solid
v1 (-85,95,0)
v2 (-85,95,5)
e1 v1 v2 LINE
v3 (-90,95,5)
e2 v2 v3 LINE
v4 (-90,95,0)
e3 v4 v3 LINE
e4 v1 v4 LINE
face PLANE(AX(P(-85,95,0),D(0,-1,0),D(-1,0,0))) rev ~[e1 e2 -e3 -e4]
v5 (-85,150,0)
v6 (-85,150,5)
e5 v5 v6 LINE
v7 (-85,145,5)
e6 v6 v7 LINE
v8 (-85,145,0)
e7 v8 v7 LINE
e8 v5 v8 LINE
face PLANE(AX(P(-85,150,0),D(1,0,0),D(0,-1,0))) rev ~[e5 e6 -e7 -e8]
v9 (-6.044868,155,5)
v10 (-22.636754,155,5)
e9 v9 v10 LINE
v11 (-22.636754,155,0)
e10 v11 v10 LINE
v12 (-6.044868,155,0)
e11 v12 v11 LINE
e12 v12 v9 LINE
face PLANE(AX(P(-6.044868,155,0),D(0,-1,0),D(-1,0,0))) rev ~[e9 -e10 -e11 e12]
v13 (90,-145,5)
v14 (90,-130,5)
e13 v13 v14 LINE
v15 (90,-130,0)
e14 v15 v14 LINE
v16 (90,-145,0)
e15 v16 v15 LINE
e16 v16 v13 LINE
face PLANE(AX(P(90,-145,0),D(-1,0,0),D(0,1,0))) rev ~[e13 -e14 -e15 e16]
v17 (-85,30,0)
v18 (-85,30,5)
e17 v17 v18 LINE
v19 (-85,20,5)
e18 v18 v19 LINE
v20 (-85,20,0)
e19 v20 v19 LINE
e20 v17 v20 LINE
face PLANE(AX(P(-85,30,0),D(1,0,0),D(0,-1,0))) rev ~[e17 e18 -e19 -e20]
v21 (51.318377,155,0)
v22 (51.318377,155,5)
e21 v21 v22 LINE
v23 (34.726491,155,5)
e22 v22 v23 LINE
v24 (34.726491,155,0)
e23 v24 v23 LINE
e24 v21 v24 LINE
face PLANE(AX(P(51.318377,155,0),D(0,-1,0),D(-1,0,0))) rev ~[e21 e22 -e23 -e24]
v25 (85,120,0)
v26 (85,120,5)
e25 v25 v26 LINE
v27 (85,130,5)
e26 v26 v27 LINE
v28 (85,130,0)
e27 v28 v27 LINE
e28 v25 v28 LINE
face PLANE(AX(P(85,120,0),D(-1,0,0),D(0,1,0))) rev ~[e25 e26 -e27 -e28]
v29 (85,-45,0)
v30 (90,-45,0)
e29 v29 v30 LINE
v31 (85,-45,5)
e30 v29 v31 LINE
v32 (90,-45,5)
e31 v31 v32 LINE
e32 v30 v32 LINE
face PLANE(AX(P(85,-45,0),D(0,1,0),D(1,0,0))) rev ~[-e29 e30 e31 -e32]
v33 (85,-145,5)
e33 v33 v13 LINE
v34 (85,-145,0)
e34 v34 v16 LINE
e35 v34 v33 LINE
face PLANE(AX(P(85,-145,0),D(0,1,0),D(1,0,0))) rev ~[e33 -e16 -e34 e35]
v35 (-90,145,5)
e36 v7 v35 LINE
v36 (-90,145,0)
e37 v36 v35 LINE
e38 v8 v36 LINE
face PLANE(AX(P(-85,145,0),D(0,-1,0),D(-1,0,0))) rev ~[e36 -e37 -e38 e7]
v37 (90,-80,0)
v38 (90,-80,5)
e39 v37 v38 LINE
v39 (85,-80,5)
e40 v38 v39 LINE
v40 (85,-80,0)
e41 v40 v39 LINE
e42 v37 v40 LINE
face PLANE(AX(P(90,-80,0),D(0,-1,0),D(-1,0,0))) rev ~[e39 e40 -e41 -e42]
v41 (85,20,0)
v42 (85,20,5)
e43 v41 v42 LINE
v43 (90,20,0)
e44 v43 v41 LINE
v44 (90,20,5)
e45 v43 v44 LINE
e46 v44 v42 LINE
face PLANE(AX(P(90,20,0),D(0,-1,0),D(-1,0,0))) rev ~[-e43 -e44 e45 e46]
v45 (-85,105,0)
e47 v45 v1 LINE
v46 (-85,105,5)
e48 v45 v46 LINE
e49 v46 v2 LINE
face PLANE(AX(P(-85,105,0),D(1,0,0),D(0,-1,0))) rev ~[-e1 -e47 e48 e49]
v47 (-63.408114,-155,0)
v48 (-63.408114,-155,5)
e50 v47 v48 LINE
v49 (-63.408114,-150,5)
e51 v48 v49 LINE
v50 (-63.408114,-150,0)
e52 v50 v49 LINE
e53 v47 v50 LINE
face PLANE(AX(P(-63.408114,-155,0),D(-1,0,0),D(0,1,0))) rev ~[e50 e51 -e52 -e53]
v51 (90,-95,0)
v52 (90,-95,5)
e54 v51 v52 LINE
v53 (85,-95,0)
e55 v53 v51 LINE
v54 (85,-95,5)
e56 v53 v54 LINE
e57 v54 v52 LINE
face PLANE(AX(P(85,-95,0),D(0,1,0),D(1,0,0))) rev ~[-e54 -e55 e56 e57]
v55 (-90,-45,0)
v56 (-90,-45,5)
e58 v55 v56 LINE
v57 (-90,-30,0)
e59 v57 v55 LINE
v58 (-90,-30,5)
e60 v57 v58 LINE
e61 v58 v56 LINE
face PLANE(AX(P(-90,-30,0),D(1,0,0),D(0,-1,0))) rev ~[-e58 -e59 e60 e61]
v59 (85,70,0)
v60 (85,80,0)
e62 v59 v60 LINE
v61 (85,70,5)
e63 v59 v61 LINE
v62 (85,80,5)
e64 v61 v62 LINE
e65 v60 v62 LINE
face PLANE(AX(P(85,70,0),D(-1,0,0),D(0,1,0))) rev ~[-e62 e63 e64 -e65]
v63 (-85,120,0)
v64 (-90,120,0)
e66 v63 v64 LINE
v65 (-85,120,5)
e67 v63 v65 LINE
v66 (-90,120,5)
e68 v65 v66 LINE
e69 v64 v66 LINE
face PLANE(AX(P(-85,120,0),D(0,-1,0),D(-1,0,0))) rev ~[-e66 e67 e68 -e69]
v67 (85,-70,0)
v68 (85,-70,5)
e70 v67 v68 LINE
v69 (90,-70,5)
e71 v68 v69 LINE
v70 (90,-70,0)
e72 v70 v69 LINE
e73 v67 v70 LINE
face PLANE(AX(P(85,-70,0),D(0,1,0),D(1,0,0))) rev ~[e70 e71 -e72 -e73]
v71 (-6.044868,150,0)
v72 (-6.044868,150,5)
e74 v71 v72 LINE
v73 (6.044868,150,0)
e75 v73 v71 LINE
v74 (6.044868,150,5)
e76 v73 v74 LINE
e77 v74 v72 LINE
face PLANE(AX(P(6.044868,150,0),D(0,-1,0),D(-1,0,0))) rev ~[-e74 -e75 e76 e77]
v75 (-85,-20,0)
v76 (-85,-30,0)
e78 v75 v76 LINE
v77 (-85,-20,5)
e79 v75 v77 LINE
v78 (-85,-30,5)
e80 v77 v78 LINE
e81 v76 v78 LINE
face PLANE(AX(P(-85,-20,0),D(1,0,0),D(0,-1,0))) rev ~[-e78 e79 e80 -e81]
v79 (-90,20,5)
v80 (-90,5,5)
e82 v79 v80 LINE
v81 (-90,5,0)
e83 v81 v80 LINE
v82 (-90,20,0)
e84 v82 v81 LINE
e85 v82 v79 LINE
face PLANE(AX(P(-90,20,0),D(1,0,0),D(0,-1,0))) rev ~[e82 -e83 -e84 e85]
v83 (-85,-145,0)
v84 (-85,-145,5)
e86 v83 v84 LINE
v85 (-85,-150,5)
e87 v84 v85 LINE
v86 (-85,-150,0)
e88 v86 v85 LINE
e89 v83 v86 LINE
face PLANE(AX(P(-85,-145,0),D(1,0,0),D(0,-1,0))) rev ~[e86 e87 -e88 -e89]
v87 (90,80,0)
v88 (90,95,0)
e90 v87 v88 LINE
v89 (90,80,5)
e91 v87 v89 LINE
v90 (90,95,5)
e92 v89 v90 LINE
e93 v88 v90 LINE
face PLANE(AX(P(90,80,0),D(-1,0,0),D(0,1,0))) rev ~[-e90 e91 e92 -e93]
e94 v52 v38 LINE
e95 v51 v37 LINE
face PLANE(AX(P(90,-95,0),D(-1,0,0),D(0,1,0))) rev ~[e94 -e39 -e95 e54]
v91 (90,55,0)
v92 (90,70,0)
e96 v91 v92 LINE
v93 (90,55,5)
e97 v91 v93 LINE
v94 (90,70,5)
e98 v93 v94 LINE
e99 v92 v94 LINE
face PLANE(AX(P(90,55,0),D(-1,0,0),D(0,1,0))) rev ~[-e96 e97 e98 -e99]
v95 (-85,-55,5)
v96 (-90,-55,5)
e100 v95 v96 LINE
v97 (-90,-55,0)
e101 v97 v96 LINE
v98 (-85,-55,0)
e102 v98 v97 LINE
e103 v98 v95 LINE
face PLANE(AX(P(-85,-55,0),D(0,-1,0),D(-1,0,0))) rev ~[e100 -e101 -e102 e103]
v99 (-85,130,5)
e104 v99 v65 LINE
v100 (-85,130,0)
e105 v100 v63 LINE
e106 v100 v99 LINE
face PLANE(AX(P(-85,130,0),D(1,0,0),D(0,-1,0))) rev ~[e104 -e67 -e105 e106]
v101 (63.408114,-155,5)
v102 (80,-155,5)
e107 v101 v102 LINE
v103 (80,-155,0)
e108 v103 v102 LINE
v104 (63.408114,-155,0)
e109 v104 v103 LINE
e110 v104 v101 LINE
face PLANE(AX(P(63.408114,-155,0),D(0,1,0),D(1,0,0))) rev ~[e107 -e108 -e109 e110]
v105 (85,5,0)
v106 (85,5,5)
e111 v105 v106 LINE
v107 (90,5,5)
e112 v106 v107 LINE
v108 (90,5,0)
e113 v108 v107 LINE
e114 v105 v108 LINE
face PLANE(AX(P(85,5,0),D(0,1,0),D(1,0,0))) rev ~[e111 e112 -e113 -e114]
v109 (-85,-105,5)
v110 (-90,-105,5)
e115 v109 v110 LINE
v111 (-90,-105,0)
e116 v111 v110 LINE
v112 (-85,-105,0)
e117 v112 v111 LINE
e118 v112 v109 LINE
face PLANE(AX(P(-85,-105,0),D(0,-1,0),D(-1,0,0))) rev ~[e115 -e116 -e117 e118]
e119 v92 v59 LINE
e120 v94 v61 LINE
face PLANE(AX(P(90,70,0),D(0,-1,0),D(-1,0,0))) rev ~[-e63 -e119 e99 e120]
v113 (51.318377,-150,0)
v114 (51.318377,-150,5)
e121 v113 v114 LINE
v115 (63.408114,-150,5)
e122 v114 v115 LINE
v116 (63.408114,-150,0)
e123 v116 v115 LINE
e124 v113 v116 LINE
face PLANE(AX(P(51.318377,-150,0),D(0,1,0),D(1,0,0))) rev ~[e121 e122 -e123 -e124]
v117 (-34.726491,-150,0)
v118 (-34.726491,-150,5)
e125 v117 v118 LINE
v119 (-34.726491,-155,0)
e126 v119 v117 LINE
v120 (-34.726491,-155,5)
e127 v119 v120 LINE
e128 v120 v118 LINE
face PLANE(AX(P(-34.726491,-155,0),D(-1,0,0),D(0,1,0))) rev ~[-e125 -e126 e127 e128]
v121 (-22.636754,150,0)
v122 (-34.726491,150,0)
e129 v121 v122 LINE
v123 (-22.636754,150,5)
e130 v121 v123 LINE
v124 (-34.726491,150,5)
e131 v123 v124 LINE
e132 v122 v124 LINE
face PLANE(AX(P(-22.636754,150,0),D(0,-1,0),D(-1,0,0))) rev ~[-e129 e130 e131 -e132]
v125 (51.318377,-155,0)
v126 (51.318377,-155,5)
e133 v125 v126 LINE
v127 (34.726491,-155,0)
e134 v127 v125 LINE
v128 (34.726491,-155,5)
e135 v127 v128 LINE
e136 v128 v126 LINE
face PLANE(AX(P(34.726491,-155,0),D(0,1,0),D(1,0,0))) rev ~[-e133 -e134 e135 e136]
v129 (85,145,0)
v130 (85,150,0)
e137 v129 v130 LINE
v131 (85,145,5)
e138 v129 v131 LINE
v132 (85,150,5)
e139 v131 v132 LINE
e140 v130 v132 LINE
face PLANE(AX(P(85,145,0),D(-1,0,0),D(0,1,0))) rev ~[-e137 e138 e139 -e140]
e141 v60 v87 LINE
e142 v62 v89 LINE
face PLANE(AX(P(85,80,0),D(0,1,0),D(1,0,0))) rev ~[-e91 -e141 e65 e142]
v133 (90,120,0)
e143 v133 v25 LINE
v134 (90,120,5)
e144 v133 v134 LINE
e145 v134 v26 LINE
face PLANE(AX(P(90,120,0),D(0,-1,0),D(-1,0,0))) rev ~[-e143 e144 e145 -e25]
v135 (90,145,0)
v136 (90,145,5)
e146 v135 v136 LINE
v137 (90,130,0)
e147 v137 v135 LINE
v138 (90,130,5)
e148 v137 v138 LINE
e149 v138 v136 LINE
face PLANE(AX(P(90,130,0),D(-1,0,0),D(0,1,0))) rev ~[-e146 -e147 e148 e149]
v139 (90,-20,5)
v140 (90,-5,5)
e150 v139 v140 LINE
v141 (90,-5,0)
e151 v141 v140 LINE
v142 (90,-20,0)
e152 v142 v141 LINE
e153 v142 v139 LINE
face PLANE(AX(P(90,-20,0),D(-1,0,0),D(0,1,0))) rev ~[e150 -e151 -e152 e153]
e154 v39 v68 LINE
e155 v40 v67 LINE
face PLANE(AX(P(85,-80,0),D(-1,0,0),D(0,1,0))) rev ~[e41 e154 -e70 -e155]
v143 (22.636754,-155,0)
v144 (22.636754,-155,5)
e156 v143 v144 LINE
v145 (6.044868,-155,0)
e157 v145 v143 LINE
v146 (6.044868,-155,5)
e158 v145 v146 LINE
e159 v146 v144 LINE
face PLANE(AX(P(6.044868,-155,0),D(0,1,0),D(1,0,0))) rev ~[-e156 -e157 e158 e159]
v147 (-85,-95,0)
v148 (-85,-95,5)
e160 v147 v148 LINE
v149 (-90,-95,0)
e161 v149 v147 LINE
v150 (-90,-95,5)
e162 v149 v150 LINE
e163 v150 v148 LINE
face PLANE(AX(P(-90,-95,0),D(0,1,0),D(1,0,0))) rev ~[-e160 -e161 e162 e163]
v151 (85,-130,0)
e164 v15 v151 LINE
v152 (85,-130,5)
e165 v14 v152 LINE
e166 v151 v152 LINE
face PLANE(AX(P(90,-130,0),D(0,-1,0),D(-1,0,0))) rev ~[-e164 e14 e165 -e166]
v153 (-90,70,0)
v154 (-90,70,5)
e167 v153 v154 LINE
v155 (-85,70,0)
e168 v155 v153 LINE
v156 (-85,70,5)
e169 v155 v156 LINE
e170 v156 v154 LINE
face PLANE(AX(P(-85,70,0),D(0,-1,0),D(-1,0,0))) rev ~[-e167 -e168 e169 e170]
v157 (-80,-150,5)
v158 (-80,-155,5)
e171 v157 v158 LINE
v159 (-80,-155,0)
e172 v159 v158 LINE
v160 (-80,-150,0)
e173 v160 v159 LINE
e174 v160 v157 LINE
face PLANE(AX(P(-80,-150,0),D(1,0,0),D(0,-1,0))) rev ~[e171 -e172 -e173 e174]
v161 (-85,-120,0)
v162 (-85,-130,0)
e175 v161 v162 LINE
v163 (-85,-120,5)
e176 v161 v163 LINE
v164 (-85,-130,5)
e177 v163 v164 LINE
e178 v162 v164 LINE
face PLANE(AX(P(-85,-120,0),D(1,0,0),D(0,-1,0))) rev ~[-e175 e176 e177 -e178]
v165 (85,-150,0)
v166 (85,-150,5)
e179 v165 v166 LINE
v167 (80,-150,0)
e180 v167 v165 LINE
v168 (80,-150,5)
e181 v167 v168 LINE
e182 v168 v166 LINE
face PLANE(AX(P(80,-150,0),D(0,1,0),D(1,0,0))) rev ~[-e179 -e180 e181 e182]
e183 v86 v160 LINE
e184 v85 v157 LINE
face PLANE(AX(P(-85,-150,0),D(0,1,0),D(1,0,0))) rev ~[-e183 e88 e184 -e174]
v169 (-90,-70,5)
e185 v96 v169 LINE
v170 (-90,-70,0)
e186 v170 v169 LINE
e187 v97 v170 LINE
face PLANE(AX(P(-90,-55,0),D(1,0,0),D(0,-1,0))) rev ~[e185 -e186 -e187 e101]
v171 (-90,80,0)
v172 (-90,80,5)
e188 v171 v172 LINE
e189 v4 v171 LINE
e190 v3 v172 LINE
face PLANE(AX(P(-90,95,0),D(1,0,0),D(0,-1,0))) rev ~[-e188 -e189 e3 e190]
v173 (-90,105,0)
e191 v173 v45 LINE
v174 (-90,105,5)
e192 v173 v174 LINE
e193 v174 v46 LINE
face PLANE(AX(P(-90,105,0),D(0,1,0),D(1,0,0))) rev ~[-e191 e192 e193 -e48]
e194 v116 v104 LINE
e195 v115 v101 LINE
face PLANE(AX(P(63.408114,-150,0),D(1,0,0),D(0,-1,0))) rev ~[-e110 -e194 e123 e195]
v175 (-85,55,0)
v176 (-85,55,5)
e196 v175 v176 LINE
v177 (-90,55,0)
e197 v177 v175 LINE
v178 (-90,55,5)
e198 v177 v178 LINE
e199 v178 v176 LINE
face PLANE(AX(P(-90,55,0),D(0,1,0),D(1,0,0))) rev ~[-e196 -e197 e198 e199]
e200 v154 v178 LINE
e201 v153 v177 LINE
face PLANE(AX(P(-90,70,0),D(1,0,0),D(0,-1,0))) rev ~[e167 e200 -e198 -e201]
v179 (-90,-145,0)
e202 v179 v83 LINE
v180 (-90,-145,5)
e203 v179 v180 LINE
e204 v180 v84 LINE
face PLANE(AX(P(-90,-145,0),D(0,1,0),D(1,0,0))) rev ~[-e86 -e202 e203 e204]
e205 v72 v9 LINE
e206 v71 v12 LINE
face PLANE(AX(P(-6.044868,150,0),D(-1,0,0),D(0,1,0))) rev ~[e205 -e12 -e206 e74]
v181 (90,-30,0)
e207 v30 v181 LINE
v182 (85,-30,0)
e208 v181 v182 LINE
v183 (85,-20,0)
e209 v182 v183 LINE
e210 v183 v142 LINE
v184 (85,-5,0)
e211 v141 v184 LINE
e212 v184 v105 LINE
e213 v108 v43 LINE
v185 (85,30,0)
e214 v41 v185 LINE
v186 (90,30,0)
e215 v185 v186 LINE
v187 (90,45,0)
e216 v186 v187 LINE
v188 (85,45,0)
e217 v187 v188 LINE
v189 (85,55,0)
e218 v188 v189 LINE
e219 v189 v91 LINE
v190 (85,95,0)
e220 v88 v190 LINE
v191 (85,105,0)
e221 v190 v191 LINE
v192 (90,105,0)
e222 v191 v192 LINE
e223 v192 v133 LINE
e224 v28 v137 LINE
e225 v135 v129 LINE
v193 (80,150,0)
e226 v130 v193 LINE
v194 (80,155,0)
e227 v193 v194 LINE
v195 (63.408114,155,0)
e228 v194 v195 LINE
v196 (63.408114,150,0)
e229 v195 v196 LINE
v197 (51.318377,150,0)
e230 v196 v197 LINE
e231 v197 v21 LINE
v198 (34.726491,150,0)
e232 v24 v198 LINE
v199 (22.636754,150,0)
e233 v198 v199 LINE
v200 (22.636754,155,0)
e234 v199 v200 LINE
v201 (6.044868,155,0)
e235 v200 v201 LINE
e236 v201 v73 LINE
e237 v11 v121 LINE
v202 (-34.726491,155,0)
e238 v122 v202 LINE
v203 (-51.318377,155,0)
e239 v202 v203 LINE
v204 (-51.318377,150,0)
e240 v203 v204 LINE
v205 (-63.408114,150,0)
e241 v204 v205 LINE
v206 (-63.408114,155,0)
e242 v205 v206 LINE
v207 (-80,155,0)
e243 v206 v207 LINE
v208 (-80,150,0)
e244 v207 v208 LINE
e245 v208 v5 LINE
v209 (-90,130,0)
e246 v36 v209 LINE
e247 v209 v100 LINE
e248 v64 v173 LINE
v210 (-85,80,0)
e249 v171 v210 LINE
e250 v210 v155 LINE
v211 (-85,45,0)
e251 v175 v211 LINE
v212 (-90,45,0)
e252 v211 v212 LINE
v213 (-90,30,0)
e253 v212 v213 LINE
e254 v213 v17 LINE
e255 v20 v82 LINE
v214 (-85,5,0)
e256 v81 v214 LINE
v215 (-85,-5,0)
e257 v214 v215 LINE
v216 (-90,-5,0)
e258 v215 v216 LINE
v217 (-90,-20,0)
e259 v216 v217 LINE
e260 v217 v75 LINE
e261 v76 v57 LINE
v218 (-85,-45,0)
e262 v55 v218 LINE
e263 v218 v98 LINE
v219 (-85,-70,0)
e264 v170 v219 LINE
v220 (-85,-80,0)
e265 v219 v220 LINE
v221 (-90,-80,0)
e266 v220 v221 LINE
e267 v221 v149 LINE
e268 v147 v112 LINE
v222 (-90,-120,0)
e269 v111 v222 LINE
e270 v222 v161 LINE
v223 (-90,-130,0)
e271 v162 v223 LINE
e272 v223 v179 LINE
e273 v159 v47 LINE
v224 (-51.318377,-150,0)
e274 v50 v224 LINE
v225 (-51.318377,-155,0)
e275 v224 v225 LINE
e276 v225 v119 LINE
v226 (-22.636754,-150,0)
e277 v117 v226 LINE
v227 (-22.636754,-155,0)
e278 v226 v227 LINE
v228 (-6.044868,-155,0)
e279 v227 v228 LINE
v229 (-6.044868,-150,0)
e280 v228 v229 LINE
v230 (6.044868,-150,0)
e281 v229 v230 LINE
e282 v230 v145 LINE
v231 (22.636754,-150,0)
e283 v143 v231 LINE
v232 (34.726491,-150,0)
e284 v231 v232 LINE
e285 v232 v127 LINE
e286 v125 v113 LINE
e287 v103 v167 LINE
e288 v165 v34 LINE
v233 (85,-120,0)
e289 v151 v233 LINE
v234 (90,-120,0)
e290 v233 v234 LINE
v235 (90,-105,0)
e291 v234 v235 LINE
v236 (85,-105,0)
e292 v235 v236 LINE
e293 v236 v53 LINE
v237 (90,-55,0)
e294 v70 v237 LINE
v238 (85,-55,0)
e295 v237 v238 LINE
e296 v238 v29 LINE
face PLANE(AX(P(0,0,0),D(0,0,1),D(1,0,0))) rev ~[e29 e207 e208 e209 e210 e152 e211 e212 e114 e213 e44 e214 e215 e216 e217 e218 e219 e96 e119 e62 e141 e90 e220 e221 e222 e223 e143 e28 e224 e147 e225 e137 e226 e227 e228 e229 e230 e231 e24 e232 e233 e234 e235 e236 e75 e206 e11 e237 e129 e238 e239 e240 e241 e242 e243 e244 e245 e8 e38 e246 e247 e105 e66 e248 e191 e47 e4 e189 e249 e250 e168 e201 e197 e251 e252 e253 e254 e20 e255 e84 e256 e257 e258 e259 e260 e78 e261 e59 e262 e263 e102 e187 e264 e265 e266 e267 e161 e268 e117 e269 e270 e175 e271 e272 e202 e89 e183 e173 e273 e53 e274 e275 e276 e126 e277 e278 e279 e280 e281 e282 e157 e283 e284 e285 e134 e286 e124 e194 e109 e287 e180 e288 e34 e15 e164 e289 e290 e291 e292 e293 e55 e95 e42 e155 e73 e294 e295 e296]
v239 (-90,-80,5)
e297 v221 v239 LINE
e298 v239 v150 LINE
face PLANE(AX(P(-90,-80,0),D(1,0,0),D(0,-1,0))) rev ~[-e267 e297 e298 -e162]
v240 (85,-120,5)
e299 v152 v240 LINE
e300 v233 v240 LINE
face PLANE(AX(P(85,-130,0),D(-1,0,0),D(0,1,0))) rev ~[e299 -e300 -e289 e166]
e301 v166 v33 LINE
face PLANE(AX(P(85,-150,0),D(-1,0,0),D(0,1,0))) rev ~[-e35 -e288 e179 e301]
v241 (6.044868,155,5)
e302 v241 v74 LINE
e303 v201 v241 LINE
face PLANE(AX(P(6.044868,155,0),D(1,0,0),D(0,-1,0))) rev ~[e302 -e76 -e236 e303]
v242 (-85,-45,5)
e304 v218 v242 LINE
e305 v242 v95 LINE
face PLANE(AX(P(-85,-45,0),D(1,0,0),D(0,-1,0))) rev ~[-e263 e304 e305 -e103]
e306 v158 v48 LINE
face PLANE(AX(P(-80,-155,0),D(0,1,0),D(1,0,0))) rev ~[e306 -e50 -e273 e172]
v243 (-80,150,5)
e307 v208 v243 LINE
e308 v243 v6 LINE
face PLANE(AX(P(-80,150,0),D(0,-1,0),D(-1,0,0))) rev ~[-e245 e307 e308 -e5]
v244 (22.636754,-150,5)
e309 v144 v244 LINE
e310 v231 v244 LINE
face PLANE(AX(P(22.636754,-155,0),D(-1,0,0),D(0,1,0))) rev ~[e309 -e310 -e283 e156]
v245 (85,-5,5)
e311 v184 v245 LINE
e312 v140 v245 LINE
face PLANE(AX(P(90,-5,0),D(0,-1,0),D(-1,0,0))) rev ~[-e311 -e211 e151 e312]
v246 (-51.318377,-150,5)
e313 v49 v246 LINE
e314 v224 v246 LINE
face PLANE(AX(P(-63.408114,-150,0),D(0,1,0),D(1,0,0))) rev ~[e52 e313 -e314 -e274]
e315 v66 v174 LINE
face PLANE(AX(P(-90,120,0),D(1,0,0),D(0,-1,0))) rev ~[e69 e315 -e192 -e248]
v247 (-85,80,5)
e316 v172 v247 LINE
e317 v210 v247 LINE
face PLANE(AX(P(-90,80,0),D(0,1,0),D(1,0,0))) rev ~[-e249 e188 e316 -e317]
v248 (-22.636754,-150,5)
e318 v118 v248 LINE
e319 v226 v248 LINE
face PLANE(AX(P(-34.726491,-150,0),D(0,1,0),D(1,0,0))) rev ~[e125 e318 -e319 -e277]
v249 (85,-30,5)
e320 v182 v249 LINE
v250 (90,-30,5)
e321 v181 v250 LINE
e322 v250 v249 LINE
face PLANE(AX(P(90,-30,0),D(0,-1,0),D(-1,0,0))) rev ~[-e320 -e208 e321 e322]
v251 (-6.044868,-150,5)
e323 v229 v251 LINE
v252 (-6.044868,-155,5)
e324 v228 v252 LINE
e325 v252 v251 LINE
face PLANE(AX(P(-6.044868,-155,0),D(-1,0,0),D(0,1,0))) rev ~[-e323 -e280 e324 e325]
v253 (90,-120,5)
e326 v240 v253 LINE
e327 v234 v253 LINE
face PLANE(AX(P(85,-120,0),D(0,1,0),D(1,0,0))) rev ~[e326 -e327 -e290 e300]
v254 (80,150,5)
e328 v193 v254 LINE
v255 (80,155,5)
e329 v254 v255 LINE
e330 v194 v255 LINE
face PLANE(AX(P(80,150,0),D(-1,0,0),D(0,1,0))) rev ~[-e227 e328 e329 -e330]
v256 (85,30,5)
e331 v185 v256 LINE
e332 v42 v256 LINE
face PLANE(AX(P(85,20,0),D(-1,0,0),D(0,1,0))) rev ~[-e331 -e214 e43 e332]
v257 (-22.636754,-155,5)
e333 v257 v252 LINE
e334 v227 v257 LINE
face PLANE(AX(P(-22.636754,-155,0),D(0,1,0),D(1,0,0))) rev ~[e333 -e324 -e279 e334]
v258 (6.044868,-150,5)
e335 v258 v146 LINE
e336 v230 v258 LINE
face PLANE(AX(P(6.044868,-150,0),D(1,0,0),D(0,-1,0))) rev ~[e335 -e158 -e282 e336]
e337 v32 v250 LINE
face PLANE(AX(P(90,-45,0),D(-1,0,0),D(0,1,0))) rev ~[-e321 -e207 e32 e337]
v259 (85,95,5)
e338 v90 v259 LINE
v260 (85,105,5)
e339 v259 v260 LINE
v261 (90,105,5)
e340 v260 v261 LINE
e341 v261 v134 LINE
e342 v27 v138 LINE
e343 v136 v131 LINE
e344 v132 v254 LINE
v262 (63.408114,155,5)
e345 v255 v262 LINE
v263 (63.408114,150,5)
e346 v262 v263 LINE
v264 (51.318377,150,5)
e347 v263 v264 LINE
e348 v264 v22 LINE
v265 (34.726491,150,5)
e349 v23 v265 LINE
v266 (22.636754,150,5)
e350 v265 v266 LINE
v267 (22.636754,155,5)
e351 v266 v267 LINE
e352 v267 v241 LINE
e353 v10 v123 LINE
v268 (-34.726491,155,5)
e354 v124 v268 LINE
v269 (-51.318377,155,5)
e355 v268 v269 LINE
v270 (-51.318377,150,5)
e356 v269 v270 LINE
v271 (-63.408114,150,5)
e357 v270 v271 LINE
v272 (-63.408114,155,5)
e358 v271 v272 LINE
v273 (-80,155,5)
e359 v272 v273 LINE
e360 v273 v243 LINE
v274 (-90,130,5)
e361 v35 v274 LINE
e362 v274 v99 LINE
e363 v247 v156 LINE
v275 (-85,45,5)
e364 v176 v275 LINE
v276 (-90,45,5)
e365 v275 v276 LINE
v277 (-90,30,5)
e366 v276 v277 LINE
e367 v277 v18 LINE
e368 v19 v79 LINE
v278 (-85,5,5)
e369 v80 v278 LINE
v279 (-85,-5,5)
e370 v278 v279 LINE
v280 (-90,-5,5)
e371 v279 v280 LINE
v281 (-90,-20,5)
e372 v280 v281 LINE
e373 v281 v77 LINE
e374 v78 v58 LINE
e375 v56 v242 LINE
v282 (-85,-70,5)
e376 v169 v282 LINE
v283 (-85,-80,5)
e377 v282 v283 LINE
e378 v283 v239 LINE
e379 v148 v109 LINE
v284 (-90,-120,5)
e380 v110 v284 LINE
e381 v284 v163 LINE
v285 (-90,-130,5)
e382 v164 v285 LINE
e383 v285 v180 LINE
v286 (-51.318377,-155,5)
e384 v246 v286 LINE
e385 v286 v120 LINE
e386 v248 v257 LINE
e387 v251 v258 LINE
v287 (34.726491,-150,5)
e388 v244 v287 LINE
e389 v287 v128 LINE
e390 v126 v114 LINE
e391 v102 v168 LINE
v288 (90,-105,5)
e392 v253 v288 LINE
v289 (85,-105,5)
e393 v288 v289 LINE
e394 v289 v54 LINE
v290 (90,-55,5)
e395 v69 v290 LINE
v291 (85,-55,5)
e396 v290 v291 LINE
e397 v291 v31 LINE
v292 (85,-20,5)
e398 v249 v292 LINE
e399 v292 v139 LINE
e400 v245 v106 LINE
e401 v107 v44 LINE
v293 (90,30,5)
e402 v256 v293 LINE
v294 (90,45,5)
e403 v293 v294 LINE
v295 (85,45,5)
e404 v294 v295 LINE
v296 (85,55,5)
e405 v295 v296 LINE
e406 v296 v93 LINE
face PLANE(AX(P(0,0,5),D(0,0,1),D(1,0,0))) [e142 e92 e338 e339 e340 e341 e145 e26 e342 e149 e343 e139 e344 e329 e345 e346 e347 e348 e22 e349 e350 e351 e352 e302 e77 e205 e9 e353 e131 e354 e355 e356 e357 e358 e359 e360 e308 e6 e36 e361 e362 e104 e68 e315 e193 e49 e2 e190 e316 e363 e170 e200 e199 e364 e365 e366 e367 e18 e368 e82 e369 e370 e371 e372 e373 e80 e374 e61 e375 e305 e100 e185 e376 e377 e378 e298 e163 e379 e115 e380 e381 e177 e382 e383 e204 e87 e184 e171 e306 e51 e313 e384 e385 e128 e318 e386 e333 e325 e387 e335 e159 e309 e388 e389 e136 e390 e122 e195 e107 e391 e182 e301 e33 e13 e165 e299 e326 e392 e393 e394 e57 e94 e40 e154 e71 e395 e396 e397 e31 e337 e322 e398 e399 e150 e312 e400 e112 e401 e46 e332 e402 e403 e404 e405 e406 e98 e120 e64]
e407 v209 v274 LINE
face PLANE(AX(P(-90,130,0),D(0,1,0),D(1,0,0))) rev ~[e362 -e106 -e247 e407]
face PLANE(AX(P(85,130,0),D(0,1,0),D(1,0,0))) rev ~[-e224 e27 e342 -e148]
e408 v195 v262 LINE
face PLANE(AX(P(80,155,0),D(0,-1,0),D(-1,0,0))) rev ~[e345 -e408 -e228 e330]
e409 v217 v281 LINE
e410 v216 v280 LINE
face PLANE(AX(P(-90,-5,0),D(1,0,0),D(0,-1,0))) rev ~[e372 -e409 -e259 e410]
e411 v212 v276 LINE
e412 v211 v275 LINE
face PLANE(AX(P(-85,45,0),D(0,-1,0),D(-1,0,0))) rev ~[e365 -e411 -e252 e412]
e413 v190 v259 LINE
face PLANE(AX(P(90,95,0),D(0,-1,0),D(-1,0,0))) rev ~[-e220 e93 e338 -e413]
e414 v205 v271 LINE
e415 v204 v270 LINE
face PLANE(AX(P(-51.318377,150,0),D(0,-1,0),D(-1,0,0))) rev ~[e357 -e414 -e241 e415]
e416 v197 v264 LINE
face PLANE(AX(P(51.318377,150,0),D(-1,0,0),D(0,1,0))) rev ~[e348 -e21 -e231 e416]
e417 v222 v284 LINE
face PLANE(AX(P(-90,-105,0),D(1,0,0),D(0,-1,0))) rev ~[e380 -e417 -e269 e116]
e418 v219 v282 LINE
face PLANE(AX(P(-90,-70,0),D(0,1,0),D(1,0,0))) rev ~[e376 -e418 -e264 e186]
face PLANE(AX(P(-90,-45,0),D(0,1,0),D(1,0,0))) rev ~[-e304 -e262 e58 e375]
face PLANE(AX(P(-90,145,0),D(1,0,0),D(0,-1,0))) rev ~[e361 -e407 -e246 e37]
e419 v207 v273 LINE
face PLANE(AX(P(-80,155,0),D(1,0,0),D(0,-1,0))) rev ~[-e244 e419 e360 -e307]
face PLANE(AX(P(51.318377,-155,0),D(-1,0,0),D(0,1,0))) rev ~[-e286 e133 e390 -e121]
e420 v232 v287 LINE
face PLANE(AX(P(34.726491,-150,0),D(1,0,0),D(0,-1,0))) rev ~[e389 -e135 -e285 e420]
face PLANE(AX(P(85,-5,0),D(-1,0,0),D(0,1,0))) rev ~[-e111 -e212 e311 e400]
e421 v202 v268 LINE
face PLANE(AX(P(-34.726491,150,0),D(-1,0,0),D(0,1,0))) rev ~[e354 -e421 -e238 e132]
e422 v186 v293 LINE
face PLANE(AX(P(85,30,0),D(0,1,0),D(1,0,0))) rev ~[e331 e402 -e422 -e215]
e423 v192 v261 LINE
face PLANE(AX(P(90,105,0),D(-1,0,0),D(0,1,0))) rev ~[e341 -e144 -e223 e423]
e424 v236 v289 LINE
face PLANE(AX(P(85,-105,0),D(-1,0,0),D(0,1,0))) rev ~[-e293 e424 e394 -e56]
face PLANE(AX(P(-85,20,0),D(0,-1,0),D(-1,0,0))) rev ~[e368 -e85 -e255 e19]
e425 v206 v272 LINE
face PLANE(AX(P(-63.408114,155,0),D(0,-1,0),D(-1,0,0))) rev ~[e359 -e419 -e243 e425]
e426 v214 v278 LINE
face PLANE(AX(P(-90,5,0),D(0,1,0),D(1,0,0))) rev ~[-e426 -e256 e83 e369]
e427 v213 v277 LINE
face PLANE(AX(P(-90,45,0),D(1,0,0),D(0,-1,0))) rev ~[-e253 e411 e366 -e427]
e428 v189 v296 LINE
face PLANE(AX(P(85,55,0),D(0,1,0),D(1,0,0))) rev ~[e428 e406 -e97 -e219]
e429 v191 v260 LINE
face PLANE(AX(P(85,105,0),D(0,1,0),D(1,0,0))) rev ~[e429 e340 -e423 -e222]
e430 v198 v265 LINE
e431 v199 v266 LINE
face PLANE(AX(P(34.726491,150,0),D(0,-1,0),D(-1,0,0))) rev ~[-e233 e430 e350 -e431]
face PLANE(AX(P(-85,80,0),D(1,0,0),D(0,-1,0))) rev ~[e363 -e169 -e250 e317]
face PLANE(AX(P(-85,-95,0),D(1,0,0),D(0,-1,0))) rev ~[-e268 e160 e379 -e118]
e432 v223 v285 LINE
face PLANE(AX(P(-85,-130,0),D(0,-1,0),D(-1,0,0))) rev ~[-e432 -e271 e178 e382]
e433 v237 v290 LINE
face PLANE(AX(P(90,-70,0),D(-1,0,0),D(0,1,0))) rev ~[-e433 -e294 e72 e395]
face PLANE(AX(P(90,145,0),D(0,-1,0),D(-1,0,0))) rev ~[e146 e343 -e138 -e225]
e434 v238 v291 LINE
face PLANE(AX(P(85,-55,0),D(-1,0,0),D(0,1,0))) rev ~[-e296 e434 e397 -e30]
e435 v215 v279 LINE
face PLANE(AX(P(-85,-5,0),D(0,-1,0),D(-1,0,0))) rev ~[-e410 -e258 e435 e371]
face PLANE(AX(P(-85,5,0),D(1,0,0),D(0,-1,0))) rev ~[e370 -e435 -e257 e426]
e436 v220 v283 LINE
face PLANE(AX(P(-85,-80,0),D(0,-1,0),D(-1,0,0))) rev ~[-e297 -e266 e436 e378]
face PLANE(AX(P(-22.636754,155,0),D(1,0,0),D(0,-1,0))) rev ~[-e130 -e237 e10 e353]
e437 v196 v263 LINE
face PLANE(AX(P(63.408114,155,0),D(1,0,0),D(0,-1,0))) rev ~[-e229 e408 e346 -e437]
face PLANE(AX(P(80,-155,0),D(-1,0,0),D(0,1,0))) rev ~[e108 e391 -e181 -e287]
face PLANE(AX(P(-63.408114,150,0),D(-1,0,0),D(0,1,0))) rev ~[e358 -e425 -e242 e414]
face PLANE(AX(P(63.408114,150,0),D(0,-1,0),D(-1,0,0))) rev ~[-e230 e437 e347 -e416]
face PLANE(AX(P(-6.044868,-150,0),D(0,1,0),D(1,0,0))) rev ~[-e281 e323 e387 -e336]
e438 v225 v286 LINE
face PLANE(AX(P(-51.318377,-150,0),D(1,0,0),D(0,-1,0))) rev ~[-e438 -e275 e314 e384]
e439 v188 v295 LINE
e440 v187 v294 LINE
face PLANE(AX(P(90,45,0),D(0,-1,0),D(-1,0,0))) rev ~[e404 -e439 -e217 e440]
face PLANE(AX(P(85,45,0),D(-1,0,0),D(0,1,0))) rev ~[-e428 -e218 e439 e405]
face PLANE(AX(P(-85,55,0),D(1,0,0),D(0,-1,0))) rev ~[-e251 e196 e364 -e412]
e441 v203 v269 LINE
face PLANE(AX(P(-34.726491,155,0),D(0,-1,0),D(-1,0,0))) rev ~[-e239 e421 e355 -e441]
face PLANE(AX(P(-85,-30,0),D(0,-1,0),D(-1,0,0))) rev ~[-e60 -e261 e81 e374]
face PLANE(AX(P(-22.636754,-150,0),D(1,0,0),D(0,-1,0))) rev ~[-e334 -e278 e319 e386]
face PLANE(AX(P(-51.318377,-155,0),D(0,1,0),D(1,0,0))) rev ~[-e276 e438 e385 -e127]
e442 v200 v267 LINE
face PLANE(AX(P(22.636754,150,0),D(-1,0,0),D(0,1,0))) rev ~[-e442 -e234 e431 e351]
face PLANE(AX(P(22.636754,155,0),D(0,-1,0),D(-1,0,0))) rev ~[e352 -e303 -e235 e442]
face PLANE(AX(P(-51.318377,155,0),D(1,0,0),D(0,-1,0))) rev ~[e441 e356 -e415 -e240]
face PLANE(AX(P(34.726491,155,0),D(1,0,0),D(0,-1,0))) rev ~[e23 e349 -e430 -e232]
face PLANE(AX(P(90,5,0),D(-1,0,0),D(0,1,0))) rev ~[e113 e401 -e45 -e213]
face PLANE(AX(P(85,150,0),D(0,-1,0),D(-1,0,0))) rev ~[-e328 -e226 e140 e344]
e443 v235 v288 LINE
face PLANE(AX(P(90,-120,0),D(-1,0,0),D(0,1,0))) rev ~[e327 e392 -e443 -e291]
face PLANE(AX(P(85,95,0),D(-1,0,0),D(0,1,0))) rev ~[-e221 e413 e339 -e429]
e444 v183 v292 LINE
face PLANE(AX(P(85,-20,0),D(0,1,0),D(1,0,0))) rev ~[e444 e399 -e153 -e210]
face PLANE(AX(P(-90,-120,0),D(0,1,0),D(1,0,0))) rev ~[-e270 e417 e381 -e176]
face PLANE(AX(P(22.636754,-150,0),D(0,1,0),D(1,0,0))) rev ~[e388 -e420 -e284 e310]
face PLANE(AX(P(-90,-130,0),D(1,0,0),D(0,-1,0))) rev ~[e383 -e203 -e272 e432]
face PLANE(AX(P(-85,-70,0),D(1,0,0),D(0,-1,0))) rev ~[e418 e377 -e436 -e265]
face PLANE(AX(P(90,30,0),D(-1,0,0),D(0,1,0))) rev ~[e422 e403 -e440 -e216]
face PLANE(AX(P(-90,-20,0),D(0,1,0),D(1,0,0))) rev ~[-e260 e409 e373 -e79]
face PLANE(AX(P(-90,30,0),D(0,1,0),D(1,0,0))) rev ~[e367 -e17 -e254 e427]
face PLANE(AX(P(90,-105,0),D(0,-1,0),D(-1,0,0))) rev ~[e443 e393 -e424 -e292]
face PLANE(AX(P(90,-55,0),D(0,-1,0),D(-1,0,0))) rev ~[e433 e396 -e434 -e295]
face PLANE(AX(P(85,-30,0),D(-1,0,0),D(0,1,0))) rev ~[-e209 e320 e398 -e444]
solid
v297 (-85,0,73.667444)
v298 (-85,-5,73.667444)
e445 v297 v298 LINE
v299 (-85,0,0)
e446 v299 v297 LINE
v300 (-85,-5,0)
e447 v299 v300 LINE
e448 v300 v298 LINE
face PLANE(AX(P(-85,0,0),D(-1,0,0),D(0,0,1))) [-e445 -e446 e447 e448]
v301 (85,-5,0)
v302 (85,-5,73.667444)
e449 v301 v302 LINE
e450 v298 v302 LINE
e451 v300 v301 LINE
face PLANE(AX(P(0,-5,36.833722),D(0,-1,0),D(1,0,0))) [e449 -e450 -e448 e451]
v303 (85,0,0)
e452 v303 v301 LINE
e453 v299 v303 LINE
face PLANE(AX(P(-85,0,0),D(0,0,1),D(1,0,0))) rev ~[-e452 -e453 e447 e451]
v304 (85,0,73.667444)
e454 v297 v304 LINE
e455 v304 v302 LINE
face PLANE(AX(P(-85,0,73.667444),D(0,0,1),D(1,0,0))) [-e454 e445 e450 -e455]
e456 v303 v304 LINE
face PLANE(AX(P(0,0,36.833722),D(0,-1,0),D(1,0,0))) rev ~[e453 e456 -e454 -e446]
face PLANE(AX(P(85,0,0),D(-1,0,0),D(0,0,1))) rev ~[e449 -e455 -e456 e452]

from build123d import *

# Parameters (mm, degrees)
F2_DEPTH = 5
F3_W     = 170
F3_H     = 73.6674442887
F4_DEPTH = 5


with BuildPart() as f2:
    # F1 (on Top) → F2 (new body)
    with BuildSketch(Plane.XY):
        Polygon((-85, -145), (-85, -150), (-80, -150), (-80, -155), (-63.4081140161, -155), (-63.4081140161, -150), (-51.3183771968, -150), (-51.3183771968, -155), (-34.7264912128, -155), (-34.7264912128, -150), (-22.6367543936, -150), (-22.6367543936, -155), (-6.0448684096, -155), (-6.0448684096, -150), (6.0448684096, -150), (6.0448684096, -155), (22.6367543936, -155), (22.6367543936, -150), (34.7264912128, -150), (34.7264912128, -155), (51.3183771968, -155), (51.3183771968, -150), (63.4081140161, -150), (63.4081140161, -155), (80, -155), (80, -150), (85, -150), (85, -145), (90, -145), (90, -130), (85, -130), (85, -120), (90, -120), (90, -105), (85, -105), (85, -95), (90, -95), (90, -80), (85, -80), (85, -70), (90, -70), (90, -55), (85, -55), (85, -45), (90, -45), (90, -30), (85, -30), (85, -20), (90, -20), (90, -5), (85, -5), (85, 5), (90, 5), (90, 20), (85, 20), (85, 30), (90, 30), (90, 45), (85, 45), (85, 55), (90, 55), (90, 70), (85, 70), (85, 80), (90, 80), (90, 95), (85, 95), (85, 105), (90, 105), (90, 120), (85, 120), (85, 130), (90, 130), (90, 145), (85, 145), (85, 150), (80, 150), (80, 155), (63.4081140161, 155), (63.4081140161, 150), (51.3183771968, 150), (51.3183771968, 155), (34.7264912128, 155), (34.7264912128, 150), (22.6367543936, 150), (22.6367543936, 155), (6.0448684096, 155), (6.0448684096, 150), (-6.0448684096, 150), (-6.0448684096, 155), (-22.6367543936, 155), (-22.6367543936, 150), (-34.7264912128, 150), (-34.7264912128, 155), (-51.3183771968, 155), (-51.3183771968, 150), (-63.4081140161, 150), (-63.4081140161, 155), (-80, 155), (-80, 150), (-85, 150), (-85, 145), (-90, 145), (-90, 130), (-85, 130), (-85, 120), (-90, 120), (-90, 105), (-85, 105), (-85, 95), (-90, 95), (-90, 80), (-85, 80), (-85, 70), (-90, 70), (-90, 55), (-85, 55), (-85, 45), (-90, 45), (-90, 30), (-85, 30), (-85, 20), (-90, 20), (-90, 5), (-85, 5), (-85, -5), (-90, -5), (-90, -20), (-85, -20), (-85, -30), (-90, -30), (-90, -45), (-85, -45), (-85, -55), (-90, -55), (-90, -70), (-85, -70), (-85, -80), (-90, -80), (-90, -95), (-85, -95), (-85, -105), (-90, -105), (-90, -120), (-85, -120), (-85, -130), (-90, -130), (-90, -145), align=None)
    extrude(amount=F2_DEPTH)


with BuildPart() as f4:
    # F3 (on Front) → F4 (new body)
    with BuildSketch(Plane.XZ):
        with Locations((0, 36.8337221444)):
            Rectangle(F3_W, F3_H)
    extrude(amount=F4_DEPTH)


solid = Compound([f2.part, f4.part])
